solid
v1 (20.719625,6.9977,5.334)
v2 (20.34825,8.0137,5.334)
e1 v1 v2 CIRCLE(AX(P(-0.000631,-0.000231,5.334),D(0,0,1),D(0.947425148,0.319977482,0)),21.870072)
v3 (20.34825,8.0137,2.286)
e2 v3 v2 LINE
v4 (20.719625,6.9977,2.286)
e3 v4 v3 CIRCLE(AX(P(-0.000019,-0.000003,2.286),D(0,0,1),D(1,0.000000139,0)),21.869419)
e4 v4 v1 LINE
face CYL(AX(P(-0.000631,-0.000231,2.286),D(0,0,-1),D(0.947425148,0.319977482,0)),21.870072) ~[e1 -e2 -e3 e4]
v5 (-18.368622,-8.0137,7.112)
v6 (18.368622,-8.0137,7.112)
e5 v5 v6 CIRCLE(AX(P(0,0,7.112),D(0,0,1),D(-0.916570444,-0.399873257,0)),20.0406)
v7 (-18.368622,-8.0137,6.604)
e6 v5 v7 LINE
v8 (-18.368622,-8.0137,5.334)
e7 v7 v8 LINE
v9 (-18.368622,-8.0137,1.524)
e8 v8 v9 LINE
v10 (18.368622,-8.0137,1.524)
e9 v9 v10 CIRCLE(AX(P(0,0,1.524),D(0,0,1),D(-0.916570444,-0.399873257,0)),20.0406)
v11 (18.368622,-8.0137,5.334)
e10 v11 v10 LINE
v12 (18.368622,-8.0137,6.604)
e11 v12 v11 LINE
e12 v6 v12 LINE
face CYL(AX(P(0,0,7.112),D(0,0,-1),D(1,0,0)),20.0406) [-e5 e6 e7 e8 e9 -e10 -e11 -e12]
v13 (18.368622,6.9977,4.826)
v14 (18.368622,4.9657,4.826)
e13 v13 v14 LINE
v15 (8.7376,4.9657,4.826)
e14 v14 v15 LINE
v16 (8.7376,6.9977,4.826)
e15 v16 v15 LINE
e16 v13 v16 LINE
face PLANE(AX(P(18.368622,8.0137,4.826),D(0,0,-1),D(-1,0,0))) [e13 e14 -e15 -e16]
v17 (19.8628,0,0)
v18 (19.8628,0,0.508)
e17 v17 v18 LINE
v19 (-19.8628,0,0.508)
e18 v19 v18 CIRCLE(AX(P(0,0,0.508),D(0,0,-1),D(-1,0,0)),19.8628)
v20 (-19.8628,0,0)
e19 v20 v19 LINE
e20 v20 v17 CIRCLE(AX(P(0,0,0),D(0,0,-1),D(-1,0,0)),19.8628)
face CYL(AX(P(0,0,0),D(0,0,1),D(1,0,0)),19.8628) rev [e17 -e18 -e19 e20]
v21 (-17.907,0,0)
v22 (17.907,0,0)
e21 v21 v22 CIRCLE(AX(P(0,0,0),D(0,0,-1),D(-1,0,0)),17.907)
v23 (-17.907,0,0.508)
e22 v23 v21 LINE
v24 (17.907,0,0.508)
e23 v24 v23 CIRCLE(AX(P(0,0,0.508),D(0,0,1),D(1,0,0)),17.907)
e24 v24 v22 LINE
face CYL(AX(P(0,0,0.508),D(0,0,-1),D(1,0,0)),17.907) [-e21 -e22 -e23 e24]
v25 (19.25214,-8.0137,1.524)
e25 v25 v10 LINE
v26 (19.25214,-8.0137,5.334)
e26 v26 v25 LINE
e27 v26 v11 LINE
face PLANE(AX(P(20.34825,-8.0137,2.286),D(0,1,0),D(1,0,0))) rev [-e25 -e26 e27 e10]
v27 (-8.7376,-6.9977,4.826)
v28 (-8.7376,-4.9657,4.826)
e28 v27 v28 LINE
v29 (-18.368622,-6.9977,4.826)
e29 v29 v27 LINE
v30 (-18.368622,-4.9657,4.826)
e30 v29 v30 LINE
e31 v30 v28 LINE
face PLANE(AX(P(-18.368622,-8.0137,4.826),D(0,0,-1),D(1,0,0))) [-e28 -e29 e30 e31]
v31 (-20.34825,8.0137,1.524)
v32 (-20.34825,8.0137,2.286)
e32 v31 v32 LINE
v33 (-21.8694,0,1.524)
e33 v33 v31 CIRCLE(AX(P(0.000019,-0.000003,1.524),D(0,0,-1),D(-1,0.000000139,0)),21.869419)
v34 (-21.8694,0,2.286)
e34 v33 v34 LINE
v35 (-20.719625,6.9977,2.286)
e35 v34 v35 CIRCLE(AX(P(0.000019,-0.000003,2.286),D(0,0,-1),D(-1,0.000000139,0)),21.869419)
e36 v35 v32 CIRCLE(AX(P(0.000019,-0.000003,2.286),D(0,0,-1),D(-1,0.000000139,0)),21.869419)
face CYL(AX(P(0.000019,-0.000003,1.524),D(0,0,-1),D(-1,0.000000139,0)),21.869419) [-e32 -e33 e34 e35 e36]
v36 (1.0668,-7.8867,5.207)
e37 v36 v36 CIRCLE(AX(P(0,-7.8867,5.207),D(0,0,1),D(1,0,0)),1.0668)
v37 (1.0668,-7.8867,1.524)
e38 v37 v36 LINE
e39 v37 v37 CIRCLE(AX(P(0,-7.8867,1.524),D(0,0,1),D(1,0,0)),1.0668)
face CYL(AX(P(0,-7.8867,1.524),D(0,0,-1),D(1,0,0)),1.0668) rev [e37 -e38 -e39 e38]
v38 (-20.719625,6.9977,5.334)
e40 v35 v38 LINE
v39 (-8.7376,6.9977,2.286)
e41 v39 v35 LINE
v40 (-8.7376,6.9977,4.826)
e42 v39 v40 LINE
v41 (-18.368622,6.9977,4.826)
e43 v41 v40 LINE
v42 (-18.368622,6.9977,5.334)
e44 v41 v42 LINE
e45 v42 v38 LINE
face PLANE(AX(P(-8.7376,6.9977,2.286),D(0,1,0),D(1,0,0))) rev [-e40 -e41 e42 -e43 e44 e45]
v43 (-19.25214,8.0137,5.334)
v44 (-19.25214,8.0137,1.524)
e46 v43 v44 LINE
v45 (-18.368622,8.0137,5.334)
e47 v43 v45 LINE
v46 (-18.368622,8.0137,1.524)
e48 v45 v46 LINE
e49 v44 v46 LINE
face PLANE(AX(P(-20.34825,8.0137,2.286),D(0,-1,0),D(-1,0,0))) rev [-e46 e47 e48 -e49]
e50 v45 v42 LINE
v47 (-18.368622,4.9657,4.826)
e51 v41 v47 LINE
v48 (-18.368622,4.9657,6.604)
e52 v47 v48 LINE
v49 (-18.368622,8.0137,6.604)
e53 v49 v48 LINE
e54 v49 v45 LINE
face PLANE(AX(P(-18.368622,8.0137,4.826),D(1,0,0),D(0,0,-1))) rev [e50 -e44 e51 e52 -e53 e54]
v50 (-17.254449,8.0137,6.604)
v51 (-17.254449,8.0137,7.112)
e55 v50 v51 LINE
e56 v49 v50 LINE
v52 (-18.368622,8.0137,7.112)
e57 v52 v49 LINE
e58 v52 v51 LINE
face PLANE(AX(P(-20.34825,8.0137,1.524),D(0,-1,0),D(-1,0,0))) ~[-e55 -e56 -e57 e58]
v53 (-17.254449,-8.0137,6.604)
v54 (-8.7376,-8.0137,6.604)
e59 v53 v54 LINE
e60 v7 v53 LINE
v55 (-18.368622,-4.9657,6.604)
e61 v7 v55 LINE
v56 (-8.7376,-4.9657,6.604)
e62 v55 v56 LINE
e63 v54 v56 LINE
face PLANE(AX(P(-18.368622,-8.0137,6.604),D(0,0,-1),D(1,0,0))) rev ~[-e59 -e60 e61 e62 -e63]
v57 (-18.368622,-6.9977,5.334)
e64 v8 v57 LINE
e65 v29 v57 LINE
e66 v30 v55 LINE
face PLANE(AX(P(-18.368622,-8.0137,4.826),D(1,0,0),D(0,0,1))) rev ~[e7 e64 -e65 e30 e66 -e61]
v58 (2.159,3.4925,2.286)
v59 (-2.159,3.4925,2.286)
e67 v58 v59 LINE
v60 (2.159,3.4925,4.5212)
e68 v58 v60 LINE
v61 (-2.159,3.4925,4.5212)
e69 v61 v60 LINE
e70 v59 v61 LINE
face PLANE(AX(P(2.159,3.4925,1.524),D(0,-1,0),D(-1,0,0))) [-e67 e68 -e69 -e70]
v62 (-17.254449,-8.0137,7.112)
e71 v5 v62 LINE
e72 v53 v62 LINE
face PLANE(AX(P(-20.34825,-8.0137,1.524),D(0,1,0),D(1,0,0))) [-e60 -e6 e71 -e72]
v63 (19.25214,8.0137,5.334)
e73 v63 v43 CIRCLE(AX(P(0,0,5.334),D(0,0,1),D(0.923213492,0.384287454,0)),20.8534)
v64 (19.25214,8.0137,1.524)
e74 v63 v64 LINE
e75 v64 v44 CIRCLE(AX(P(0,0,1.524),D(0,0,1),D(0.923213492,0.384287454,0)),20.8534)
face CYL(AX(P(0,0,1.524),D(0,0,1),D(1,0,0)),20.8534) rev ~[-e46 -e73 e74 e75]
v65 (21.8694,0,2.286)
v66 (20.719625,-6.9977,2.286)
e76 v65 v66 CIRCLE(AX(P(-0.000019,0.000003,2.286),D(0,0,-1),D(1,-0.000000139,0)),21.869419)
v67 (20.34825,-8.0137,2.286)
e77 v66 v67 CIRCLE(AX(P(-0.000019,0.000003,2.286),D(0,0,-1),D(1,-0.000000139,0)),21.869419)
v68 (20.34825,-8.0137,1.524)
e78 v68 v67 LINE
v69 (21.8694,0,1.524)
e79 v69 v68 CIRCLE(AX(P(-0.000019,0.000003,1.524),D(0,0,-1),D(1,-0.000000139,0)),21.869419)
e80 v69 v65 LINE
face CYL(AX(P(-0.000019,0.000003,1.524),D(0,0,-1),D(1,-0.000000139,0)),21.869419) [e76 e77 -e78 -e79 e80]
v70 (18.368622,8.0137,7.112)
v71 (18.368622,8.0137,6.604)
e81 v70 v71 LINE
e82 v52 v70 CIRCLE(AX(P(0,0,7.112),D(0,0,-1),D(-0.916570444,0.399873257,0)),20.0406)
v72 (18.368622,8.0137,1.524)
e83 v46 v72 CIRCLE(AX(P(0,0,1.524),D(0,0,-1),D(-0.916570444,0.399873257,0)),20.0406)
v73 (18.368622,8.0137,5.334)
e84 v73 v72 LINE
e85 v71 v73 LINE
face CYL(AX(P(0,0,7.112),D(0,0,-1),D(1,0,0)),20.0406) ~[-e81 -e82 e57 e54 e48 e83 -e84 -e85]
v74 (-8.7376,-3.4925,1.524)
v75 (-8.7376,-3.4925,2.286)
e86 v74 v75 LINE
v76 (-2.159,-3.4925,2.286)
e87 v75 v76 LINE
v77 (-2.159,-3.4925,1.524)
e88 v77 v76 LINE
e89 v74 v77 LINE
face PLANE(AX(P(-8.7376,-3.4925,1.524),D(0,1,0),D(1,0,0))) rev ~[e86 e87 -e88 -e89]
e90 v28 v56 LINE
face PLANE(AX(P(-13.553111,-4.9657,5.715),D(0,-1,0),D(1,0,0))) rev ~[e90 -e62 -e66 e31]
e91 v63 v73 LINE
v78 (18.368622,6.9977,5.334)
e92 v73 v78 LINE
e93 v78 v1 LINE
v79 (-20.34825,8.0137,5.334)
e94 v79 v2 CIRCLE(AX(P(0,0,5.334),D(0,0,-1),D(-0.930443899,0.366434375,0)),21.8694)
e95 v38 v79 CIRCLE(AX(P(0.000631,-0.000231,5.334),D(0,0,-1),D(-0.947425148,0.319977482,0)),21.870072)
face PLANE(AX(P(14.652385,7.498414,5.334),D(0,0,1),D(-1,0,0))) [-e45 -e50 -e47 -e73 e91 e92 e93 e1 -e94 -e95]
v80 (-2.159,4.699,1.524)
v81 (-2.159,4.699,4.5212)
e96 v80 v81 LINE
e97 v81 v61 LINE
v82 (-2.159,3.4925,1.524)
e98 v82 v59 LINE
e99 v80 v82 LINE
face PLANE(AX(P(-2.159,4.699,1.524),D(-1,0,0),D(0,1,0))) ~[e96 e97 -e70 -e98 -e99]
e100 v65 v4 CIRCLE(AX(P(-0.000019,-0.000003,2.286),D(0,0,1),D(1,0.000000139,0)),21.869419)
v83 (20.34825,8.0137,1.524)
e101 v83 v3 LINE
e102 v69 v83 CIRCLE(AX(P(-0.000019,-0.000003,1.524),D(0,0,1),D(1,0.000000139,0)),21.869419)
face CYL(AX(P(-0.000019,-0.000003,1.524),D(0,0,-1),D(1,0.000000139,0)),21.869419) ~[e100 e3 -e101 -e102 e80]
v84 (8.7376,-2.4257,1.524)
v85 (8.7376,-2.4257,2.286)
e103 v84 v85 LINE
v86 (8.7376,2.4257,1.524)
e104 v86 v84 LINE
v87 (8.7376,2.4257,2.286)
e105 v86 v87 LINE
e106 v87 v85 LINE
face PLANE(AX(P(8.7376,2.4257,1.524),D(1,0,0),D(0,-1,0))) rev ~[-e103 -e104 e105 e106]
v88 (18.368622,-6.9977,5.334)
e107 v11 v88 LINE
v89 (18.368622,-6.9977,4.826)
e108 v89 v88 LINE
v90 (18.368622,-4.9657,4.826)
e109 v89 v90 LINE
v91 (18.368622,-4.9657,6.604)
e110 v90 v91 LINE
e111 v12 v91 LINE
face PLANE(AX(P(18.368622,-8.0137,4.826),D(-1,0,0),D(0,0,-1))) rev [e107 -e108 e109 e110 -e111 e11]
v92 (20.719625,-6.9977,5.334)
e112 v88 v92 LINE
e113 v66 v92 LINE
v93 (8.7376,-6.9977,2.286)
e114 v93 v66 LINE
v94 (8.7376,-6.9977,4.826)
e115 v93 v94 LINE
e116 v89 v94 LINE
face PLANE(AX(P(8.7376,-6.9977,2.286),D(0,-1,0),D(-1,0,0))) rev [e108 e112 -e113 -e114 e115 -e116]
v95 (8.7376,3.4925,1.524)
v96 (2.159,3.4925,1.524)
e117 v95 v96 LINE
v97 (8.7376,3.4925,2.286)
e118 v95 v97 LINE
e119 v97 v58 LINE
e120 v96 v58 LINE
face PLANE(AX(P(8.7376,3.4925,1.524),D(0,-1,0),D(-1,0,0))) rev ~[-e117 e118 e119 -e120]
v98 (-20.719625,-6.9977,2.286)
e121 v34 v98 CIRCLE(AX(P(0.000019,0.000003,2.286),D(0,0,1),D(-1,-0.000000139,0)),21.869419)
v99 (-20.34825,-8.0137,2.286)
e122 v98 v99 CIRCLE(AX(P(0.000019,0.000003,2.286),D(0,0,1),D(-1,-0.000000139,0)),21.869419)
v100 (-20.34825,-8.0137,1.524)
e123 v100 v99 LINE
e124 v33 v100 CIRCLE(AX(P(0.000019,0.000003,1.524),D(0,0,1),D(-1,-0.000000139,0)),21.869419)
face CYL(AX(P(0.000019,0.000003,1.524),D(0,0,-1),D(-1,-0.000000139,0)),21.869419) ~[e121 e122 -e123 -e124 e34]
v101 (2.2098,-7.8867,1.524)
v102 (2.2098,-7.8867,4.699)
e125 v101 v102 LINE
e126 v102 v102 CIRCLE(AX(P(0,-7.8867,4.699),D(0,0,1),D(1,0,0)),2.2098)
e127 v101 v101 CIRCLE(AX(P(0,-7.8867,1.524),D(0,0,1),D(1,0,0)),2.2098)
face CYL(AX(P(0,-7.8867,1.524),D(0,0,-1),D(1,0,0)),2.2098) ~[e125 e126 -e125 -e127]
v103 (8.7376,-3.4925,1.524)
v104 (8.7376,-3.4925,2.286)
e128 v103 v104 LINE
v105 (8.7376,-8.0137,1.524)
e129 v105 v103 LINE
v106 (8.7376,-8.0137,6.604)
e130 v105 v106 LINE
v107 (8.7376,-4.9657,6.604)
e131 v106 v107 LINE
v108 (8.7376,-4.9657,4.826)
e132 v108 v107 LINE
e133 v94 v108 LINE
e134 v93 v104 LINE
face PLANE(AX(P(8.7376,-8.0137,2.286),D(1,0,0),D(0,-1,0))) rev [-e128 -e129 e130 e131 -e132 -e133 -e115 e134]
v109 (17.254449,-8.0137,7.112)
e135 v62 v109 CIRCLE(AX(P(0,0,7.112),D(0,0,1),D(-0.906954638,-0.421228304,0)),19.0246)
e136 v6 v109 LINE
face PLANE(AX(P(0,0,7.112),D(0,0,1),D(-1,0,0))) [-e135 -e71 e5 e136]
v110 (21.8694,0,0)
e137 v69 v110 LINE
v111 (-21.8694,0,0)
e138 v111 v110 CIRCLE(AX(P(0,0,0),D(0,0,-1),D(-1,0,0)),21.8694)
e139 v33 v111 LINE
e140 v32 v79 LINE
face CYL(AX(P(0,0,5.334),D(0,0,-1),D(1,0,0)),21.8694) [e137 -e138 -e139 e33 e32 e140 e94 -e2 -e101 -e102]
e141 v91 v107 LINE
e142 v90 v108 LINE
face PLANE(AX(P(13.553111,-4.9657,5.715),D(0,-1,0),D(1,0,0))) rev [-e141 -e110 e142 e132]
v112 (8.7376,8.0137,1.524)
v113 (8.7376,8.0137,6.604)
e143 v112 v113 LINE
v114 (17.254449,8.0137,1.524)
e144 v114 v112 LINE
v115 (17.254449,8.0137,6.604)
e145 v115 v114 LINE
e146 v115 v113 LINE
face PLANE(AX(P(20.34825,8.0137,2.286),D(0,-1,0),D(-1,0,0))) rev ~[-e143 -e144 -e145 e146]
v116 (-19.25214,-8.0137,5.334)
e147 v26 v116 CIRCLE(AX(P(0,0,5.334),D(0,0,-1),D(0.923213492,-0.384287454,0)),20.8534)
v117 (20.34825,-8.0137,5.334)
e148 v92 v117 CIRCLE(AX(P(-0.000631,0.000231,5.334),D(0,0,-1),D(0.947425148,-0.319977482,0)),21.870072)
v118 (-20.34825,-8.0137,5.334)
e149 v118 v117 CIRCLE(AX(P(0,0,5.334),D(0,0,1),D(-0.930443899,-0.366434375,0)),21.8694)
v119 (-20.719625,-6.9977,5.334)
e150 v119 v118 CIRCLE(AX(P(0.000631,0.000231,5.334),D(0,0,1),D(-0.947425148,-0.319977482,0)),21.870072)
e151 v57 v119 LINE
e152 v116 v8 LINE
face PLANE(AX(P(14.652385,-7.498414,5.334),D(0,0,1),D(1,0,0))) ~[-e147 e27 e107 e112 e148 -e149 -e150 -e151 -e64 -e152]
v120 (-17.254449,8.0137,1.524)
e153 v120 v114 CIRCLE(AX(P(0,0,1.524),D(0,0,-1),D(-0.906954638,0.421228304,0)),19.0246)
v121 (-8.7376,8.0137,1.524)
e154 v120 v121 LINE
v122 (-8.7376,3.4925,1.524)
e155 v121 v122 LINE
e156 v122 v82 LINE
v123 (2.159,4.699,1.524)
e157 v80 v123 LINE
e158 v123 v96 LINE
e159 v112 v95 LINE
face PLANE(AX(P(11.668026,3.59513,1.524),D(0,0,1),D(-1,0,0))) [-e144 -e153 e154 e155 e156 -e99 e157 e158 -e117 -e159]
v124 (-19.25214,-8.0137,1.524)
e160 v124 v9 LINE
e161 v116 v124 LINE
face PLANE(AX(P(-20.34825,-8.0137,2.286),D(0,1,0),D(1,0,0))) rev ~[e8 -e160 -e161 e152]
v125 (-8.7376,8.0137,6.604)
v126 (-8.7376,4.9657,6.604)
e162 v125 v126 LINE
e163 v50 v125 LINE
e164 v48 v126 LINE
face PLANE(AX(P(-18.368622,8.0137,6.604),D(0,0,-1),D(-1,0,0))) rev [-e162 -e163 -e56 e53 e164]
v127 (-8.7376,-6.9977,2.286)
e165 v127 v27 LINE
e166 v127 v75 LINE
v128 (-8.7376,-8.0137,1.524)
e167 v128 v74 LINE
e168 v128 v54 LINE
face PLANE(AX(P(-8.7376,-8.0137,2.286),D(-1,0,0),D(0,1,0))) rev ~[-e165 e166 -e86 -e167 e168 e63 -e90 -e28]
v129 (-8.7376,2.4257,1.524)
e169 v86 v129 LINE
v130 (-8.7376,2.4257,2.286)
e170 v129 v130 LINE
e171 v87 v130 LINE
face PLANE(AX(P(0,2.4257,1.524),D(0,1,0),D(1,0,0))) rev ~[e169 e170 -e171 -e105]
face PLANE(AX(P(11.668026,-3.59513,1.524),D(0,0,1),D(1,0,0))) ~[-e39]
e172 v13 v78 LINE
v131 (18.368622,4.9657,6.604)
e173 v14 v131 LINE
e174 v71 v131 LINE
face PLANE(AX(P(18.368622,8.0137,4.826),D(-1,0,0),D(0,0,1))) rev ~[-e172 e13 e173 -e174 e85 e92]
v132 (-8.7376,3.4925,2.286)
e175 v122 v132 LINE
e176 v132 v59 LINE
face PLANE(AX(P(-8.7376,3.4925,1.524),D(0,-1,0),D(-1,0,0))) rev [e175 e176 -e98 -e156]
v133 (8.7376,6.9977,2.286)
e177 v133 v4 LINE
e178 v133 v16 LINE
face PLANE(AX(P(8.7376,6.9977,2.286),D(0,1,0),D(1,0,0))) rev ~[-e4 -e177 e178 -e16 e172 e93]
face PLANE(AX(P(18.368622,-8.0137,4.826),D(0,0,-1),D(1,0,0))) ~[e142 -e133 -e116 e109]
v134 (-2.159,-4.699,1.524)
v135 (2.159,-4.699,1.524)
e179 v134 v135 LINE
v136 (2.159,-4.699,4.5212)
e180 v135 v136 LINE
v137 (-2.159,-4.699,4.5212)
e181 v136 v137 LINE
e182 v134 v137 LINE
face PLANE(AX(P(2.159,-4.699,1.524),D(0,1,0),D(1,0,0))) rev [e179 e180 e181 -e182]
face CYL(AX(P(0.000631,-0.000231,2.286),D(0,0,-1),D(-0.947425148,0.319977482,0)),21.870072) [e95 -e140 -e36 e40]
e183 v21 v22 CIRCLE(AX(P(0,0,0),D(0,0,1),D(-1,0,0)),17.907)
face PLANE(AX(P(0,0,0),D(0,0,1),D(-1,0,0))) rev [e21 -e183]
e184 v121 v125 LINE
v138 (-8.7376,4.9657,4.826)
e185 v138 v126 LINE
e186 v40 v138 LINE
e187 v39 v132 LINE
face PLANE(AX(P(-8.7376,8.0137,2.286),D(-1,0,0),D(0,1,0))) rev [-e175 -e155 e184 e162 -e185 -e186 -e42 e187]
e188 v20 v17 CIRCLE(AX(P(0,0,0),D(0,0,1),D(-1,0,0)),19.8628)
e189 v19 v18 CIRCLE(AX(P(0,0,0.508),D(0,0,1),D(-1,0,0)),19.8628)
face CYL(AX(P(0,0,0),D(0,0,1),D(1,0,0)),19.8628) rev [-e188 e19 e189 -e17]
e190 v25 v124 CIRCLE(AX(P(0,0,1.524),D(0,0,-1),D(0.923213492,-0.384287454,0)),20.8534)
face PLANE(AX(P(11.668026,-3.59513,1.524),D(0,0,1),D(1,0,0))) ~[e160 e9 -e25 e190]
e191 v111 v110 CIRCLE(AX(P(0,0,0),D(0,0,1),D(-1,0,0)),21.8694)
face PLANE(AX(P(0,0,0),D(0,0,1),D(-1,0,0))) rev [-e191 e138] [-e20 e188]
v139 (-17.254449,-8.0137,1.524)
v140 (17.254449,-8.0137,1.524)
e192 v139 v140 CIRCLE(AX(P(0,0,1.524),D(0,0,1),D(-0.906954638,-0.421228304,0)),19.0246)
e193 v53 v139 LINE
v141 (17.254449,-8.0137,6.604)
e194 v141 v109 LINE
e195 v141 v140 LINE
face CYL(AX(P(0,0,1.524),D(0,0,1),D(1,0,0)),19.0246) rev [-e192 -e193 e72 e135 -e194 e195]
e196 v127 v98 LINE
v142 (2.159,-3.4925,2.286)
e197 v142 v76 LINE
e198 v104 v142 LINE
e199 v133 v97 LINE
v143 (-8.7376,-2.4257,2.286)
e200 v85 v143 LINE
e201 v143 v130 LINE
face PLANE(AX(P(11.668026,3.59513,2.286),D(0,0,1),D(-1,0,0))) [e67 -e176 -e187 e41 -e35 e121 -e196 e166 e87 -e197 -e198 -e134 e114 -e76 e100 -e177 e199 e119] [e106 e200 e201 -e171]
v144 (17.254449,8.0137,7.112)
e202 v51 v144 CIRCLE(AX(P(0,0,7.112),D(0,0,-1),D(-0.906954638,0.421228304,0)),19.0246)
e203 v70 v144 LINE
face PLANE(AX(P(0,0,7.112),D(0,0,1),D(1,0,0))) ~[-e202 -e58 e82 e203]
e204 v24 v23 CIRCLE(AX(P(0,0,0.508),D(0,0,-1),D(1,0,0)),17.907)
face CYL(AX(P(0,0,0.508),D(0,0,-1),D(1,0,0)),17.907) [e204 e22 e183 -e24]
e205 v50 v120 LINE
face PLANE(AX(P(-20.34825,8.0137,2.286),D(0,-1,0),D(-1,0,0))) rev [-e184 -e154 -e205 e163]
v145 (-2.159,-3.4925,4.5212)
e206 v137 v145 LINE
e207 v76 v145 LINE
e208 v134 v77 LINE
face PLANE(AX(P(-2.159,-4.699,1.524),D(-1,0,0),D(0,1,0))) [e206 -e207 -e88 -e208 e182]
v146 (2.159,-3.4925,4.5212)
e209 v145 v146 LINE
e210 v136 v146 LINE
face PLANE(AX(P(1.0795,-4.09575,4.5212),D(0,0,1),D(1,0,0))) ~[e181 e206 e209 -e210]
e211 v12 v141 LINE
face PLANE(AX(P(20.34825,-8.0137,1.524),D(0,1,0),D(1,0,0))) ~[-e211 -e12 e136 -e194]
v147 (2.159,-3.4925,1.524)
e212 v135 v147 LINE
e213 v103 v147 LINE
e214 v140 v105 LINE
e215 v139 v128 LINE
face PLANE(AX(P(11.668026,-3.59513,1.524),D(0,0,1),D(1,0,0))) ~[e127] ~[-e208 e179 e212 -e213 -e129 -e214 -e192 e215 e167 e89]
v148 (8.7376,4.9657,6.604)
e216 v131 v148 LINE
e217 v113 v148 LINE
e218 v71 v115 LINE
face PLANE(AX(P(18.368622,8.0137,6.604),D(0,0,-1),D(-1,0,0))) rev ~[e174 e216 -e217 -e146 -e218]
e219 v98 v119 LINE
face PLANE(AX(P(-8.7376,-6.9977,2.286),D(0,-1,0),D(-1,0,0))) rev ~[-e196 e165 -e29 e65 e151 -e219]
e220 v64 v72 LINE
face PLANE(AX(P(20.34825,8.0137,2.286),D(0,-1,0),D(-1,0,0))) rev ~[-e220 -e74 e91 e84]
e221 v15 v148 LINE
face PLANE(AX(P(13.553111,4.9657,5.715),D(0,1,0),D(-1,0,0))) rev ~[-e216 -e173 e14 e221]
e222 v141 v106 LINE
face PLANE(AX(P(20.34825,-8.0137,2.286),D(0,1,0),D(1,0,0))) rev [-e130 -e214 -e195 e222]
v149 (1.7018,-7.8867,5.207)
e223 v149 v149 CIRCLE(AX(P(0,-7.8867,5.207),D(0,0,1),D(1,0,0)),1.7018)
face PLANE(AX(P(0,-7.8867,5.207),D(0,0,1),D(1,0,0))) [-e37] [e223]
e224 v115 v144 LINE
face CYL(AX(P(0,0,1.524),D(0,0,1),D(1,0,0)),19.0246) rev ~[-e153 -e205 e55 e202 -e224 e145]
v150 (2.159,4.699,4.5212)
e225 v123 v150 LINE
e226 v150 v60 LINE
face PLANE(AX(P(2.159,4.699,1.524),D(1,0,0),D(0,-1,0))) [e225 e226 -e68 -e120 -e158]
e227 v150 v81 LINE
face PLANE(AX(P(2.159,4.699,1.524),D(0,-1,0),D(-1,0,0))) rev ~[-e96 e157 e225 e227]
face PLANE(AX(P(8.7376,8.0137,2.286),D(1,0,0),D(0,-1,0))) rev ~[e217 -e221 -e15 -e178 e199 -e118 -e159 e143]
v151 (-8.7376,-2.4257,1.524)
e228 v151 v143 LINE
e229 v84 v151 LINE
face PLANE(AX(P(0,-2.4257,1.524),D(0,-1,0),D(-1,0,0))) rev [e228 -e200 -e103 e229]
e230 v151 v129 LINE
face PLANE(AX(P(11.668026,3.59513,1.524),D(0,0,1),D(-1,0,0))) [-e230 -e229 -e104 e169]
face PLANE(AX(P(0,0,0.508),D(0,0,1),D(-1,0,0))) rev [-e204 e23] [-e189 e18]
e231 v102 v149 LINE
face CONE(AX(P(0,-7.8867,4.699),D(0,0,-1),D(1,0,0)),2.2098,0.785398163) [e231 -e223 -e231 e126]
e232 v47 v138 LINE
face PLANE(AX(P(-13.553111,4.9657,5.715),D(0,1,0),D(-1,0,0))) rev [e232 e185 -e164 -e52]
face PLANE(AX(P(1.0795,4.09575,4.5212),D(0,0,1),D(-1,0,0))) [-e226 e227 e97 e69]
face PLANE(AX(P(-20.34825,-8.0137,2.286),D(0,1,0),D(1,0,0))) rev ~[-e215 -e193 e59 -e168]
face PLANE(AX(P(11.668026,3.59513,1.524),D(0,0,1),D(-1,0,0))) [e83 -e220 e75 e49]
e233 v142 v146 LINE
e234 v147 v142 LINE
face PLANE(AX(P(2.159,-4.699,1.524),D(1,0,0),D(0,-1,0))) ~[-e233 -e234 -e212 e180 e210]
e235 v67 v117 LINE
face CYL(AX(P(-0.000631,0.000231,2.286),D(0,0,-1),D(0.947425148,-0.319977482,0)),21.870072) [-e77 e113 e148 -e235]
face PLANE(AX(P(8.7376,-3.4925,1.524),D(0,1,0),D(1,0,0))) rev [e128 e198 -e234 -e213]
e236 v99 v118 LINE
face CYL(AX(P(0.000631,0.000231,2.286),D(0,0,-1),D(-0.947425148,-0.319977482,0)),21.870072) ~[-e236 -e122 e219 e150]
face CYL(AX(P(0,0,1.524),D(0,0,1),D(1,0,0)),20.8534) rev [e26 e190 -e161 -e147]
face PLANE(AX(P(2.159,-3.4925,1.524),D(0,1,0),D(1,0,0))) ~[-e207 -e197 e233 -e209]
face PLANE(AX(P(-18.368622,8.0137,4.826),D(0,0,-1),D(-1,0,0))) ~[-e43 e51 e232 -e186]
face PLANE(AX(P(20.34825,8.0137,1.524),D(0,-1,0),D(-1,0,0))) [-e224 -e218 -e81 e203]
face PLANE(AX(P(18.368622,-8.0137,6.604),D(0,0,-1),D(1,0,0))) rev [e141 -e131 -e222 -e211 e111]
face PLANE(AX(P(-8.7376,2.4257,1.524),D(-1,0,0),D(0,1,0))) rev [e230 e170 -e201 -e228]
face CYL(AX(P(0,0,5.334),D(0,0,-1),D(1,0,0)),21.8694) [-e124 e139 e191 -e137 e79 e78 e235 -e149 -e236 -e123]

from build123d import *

# Parameters (mm, degrees)
F1_ANGLE  = 90
F3_DEPTH  = 25.4
F4_DEPTH  = 0.762
F6_DEPTH  = 3.048
F7_W      = 9.631022
F7_H      = 1.778
F8_DEPTH  = 3.048
F9_W      = 2.159
F9_H      = 1.2065
F10_DEPTH = 2.9972
F13_R     = 2.2098
F13_R_2   = 1.0668
F14_DEPTH = 3.683
F15_SIZE  = 0.508


with BuildPart() as f1:
    # F0 (on Front) → F1 (revolve)
    with BuildSketch(Plane.XZ):
        Polygon((-17.907, 0), (0, 0), (0, 1.524), (-19.0246, 1.524), (-19.0246, 7.112), (-20.0406, 7.112), (-20.0406, 1.524), (-20.8534, 1.524), (-20.8534, 5.334), (-21.8694, 5.334), (-21.8694, 0), (-19.8628, 0), (-19.8628, 0.508), (-17.907, 0.508), align=None)
    revolve(axis=Axis((0, 0, 5.251978), (0, 0, 1)), revolution_arc=F1_ANGLE)

    # F2 (on face) → F3 (cut)
    with BuildSketch(Plane.XY.offset(1.524)):
        with BuildLine():
            Line((0, -3.4925), (0, -2.4257))
            Line((0, -2.4257), (-8.7376, -2.4257))
            Line((-8.7376, -2.4257), (-8.7376, 0))
            Line((-8.7376, 0), (-21.8694, 0))
            ThreePointArc((-21.8694, 0), (-21.485747, -4.078397), (-20.34825, -8.0137))
            Line((-20.34825, -8.0137), (-8.7376, -8.0137))
            Line((-8.7376, -8.0137), (-8.7376, -3.4925))
            Line((-8.7376, -3.4925), (0, -3.4925))
        make_face()
    extrude(amount=F3_DEPTH, mode=Mode.SUBTRACT)

    # F2 (on face) → F4 (join)
    with BuildSketch(Plane.XY.offset(1.524)):
        with BuildLine():
            Line((0, -3.4925), (0, -2.4257))
            Line((0, -2.4257), (-8.7376, -2.4257))
            Line((-8.7376, -2.4257), (-8.7376, 0))
            Line((-8.7376, 0), (-21.8694, 0))
            ThreePointArc((-21.8694, 0), (-21.485747, -4.078397), (-20.34825, -8.0137))
            Line((-20.34825, -8.0137), (-8.7376, -8.0137))
            Line((-8.7376, -8.0137), (-8.7376, -3.4925))
            Line((-8.7376, -3.4925), (0, -3.4925))
        make_face()
    extrude(amount=F4_DEPTH)

    # F5 (on face) → F6 (join, through all)
    with BuildSketch(Plane.XY.offset(2.286)):
        with BuildLine():
            Line((-20.34825, -8.0137), (-8.7376, -8.0137))
            Line((-8.7376, -8.0137), (-8.7376, -6.9977))
            Line((-8.7376, -6.9977), (-20.719625, -6.9977))
            ThreePointArc((-20.719625, -6.9977), (-20.54022, -7.507997), (-20.34825, -8.0137))
        make_face()
    extrude(amount=F6_DEPTH)

    # F7 (on face) → F8 (join)
    with BuildSketch(Plane.XZ.offset(8.0137)):
        with Locations((-13.553111, 5.715)):
            Rectangle(F7_W, F7_H)
    extrude(amount=-F8_DEPTH)

    # F9 (on face) → F10 (join)
    with BuildSketch(Plane.XY.offset(1.524)):
        with Locations((-1.0795, -4.09575)):
            Rectangle(F9_W, F9_H)
    extrude(amount=F10_DEPTH)

    # F11: F1 across face


with BuildPart() as f1_1:
    add(f1.part)
    add(f1.part.mirror(Plane(origin=(0, -12.015662, 1.628309), x_dir=(0, 1, 0), z_dir=(1, 0, 0))))

    # F12: F1 across face


with BuildPart() as f1_2:
    add(f1_1.part)
    add(f1_1.part.mirror(Plane(origin=(0, 0, 1.044039), x_dir=(-1, 0, 0), z_dir=(0, 1, 0))))

    # F13 (on face) → F14 (join)
    with BuildSketch(Plane.XY.offset(1.524)):
        with Locations((0, -7.8867)):
            Circle(F13_R)
        with Locations((0, -7.8867)):
            Circle(F13_R_2, mode=Mode.SUBTRACT)
    extrude(amount=F14_DEPTH)

    # F15
    f15_edges = [f1_2.edges().sort_by_distance(p)[0] for p in [
        (-2.2098, -7.8867, 5.207),
    ]]
    chamfer(f15_edges, length=F15_SIZE)


solid = f1_2.part
